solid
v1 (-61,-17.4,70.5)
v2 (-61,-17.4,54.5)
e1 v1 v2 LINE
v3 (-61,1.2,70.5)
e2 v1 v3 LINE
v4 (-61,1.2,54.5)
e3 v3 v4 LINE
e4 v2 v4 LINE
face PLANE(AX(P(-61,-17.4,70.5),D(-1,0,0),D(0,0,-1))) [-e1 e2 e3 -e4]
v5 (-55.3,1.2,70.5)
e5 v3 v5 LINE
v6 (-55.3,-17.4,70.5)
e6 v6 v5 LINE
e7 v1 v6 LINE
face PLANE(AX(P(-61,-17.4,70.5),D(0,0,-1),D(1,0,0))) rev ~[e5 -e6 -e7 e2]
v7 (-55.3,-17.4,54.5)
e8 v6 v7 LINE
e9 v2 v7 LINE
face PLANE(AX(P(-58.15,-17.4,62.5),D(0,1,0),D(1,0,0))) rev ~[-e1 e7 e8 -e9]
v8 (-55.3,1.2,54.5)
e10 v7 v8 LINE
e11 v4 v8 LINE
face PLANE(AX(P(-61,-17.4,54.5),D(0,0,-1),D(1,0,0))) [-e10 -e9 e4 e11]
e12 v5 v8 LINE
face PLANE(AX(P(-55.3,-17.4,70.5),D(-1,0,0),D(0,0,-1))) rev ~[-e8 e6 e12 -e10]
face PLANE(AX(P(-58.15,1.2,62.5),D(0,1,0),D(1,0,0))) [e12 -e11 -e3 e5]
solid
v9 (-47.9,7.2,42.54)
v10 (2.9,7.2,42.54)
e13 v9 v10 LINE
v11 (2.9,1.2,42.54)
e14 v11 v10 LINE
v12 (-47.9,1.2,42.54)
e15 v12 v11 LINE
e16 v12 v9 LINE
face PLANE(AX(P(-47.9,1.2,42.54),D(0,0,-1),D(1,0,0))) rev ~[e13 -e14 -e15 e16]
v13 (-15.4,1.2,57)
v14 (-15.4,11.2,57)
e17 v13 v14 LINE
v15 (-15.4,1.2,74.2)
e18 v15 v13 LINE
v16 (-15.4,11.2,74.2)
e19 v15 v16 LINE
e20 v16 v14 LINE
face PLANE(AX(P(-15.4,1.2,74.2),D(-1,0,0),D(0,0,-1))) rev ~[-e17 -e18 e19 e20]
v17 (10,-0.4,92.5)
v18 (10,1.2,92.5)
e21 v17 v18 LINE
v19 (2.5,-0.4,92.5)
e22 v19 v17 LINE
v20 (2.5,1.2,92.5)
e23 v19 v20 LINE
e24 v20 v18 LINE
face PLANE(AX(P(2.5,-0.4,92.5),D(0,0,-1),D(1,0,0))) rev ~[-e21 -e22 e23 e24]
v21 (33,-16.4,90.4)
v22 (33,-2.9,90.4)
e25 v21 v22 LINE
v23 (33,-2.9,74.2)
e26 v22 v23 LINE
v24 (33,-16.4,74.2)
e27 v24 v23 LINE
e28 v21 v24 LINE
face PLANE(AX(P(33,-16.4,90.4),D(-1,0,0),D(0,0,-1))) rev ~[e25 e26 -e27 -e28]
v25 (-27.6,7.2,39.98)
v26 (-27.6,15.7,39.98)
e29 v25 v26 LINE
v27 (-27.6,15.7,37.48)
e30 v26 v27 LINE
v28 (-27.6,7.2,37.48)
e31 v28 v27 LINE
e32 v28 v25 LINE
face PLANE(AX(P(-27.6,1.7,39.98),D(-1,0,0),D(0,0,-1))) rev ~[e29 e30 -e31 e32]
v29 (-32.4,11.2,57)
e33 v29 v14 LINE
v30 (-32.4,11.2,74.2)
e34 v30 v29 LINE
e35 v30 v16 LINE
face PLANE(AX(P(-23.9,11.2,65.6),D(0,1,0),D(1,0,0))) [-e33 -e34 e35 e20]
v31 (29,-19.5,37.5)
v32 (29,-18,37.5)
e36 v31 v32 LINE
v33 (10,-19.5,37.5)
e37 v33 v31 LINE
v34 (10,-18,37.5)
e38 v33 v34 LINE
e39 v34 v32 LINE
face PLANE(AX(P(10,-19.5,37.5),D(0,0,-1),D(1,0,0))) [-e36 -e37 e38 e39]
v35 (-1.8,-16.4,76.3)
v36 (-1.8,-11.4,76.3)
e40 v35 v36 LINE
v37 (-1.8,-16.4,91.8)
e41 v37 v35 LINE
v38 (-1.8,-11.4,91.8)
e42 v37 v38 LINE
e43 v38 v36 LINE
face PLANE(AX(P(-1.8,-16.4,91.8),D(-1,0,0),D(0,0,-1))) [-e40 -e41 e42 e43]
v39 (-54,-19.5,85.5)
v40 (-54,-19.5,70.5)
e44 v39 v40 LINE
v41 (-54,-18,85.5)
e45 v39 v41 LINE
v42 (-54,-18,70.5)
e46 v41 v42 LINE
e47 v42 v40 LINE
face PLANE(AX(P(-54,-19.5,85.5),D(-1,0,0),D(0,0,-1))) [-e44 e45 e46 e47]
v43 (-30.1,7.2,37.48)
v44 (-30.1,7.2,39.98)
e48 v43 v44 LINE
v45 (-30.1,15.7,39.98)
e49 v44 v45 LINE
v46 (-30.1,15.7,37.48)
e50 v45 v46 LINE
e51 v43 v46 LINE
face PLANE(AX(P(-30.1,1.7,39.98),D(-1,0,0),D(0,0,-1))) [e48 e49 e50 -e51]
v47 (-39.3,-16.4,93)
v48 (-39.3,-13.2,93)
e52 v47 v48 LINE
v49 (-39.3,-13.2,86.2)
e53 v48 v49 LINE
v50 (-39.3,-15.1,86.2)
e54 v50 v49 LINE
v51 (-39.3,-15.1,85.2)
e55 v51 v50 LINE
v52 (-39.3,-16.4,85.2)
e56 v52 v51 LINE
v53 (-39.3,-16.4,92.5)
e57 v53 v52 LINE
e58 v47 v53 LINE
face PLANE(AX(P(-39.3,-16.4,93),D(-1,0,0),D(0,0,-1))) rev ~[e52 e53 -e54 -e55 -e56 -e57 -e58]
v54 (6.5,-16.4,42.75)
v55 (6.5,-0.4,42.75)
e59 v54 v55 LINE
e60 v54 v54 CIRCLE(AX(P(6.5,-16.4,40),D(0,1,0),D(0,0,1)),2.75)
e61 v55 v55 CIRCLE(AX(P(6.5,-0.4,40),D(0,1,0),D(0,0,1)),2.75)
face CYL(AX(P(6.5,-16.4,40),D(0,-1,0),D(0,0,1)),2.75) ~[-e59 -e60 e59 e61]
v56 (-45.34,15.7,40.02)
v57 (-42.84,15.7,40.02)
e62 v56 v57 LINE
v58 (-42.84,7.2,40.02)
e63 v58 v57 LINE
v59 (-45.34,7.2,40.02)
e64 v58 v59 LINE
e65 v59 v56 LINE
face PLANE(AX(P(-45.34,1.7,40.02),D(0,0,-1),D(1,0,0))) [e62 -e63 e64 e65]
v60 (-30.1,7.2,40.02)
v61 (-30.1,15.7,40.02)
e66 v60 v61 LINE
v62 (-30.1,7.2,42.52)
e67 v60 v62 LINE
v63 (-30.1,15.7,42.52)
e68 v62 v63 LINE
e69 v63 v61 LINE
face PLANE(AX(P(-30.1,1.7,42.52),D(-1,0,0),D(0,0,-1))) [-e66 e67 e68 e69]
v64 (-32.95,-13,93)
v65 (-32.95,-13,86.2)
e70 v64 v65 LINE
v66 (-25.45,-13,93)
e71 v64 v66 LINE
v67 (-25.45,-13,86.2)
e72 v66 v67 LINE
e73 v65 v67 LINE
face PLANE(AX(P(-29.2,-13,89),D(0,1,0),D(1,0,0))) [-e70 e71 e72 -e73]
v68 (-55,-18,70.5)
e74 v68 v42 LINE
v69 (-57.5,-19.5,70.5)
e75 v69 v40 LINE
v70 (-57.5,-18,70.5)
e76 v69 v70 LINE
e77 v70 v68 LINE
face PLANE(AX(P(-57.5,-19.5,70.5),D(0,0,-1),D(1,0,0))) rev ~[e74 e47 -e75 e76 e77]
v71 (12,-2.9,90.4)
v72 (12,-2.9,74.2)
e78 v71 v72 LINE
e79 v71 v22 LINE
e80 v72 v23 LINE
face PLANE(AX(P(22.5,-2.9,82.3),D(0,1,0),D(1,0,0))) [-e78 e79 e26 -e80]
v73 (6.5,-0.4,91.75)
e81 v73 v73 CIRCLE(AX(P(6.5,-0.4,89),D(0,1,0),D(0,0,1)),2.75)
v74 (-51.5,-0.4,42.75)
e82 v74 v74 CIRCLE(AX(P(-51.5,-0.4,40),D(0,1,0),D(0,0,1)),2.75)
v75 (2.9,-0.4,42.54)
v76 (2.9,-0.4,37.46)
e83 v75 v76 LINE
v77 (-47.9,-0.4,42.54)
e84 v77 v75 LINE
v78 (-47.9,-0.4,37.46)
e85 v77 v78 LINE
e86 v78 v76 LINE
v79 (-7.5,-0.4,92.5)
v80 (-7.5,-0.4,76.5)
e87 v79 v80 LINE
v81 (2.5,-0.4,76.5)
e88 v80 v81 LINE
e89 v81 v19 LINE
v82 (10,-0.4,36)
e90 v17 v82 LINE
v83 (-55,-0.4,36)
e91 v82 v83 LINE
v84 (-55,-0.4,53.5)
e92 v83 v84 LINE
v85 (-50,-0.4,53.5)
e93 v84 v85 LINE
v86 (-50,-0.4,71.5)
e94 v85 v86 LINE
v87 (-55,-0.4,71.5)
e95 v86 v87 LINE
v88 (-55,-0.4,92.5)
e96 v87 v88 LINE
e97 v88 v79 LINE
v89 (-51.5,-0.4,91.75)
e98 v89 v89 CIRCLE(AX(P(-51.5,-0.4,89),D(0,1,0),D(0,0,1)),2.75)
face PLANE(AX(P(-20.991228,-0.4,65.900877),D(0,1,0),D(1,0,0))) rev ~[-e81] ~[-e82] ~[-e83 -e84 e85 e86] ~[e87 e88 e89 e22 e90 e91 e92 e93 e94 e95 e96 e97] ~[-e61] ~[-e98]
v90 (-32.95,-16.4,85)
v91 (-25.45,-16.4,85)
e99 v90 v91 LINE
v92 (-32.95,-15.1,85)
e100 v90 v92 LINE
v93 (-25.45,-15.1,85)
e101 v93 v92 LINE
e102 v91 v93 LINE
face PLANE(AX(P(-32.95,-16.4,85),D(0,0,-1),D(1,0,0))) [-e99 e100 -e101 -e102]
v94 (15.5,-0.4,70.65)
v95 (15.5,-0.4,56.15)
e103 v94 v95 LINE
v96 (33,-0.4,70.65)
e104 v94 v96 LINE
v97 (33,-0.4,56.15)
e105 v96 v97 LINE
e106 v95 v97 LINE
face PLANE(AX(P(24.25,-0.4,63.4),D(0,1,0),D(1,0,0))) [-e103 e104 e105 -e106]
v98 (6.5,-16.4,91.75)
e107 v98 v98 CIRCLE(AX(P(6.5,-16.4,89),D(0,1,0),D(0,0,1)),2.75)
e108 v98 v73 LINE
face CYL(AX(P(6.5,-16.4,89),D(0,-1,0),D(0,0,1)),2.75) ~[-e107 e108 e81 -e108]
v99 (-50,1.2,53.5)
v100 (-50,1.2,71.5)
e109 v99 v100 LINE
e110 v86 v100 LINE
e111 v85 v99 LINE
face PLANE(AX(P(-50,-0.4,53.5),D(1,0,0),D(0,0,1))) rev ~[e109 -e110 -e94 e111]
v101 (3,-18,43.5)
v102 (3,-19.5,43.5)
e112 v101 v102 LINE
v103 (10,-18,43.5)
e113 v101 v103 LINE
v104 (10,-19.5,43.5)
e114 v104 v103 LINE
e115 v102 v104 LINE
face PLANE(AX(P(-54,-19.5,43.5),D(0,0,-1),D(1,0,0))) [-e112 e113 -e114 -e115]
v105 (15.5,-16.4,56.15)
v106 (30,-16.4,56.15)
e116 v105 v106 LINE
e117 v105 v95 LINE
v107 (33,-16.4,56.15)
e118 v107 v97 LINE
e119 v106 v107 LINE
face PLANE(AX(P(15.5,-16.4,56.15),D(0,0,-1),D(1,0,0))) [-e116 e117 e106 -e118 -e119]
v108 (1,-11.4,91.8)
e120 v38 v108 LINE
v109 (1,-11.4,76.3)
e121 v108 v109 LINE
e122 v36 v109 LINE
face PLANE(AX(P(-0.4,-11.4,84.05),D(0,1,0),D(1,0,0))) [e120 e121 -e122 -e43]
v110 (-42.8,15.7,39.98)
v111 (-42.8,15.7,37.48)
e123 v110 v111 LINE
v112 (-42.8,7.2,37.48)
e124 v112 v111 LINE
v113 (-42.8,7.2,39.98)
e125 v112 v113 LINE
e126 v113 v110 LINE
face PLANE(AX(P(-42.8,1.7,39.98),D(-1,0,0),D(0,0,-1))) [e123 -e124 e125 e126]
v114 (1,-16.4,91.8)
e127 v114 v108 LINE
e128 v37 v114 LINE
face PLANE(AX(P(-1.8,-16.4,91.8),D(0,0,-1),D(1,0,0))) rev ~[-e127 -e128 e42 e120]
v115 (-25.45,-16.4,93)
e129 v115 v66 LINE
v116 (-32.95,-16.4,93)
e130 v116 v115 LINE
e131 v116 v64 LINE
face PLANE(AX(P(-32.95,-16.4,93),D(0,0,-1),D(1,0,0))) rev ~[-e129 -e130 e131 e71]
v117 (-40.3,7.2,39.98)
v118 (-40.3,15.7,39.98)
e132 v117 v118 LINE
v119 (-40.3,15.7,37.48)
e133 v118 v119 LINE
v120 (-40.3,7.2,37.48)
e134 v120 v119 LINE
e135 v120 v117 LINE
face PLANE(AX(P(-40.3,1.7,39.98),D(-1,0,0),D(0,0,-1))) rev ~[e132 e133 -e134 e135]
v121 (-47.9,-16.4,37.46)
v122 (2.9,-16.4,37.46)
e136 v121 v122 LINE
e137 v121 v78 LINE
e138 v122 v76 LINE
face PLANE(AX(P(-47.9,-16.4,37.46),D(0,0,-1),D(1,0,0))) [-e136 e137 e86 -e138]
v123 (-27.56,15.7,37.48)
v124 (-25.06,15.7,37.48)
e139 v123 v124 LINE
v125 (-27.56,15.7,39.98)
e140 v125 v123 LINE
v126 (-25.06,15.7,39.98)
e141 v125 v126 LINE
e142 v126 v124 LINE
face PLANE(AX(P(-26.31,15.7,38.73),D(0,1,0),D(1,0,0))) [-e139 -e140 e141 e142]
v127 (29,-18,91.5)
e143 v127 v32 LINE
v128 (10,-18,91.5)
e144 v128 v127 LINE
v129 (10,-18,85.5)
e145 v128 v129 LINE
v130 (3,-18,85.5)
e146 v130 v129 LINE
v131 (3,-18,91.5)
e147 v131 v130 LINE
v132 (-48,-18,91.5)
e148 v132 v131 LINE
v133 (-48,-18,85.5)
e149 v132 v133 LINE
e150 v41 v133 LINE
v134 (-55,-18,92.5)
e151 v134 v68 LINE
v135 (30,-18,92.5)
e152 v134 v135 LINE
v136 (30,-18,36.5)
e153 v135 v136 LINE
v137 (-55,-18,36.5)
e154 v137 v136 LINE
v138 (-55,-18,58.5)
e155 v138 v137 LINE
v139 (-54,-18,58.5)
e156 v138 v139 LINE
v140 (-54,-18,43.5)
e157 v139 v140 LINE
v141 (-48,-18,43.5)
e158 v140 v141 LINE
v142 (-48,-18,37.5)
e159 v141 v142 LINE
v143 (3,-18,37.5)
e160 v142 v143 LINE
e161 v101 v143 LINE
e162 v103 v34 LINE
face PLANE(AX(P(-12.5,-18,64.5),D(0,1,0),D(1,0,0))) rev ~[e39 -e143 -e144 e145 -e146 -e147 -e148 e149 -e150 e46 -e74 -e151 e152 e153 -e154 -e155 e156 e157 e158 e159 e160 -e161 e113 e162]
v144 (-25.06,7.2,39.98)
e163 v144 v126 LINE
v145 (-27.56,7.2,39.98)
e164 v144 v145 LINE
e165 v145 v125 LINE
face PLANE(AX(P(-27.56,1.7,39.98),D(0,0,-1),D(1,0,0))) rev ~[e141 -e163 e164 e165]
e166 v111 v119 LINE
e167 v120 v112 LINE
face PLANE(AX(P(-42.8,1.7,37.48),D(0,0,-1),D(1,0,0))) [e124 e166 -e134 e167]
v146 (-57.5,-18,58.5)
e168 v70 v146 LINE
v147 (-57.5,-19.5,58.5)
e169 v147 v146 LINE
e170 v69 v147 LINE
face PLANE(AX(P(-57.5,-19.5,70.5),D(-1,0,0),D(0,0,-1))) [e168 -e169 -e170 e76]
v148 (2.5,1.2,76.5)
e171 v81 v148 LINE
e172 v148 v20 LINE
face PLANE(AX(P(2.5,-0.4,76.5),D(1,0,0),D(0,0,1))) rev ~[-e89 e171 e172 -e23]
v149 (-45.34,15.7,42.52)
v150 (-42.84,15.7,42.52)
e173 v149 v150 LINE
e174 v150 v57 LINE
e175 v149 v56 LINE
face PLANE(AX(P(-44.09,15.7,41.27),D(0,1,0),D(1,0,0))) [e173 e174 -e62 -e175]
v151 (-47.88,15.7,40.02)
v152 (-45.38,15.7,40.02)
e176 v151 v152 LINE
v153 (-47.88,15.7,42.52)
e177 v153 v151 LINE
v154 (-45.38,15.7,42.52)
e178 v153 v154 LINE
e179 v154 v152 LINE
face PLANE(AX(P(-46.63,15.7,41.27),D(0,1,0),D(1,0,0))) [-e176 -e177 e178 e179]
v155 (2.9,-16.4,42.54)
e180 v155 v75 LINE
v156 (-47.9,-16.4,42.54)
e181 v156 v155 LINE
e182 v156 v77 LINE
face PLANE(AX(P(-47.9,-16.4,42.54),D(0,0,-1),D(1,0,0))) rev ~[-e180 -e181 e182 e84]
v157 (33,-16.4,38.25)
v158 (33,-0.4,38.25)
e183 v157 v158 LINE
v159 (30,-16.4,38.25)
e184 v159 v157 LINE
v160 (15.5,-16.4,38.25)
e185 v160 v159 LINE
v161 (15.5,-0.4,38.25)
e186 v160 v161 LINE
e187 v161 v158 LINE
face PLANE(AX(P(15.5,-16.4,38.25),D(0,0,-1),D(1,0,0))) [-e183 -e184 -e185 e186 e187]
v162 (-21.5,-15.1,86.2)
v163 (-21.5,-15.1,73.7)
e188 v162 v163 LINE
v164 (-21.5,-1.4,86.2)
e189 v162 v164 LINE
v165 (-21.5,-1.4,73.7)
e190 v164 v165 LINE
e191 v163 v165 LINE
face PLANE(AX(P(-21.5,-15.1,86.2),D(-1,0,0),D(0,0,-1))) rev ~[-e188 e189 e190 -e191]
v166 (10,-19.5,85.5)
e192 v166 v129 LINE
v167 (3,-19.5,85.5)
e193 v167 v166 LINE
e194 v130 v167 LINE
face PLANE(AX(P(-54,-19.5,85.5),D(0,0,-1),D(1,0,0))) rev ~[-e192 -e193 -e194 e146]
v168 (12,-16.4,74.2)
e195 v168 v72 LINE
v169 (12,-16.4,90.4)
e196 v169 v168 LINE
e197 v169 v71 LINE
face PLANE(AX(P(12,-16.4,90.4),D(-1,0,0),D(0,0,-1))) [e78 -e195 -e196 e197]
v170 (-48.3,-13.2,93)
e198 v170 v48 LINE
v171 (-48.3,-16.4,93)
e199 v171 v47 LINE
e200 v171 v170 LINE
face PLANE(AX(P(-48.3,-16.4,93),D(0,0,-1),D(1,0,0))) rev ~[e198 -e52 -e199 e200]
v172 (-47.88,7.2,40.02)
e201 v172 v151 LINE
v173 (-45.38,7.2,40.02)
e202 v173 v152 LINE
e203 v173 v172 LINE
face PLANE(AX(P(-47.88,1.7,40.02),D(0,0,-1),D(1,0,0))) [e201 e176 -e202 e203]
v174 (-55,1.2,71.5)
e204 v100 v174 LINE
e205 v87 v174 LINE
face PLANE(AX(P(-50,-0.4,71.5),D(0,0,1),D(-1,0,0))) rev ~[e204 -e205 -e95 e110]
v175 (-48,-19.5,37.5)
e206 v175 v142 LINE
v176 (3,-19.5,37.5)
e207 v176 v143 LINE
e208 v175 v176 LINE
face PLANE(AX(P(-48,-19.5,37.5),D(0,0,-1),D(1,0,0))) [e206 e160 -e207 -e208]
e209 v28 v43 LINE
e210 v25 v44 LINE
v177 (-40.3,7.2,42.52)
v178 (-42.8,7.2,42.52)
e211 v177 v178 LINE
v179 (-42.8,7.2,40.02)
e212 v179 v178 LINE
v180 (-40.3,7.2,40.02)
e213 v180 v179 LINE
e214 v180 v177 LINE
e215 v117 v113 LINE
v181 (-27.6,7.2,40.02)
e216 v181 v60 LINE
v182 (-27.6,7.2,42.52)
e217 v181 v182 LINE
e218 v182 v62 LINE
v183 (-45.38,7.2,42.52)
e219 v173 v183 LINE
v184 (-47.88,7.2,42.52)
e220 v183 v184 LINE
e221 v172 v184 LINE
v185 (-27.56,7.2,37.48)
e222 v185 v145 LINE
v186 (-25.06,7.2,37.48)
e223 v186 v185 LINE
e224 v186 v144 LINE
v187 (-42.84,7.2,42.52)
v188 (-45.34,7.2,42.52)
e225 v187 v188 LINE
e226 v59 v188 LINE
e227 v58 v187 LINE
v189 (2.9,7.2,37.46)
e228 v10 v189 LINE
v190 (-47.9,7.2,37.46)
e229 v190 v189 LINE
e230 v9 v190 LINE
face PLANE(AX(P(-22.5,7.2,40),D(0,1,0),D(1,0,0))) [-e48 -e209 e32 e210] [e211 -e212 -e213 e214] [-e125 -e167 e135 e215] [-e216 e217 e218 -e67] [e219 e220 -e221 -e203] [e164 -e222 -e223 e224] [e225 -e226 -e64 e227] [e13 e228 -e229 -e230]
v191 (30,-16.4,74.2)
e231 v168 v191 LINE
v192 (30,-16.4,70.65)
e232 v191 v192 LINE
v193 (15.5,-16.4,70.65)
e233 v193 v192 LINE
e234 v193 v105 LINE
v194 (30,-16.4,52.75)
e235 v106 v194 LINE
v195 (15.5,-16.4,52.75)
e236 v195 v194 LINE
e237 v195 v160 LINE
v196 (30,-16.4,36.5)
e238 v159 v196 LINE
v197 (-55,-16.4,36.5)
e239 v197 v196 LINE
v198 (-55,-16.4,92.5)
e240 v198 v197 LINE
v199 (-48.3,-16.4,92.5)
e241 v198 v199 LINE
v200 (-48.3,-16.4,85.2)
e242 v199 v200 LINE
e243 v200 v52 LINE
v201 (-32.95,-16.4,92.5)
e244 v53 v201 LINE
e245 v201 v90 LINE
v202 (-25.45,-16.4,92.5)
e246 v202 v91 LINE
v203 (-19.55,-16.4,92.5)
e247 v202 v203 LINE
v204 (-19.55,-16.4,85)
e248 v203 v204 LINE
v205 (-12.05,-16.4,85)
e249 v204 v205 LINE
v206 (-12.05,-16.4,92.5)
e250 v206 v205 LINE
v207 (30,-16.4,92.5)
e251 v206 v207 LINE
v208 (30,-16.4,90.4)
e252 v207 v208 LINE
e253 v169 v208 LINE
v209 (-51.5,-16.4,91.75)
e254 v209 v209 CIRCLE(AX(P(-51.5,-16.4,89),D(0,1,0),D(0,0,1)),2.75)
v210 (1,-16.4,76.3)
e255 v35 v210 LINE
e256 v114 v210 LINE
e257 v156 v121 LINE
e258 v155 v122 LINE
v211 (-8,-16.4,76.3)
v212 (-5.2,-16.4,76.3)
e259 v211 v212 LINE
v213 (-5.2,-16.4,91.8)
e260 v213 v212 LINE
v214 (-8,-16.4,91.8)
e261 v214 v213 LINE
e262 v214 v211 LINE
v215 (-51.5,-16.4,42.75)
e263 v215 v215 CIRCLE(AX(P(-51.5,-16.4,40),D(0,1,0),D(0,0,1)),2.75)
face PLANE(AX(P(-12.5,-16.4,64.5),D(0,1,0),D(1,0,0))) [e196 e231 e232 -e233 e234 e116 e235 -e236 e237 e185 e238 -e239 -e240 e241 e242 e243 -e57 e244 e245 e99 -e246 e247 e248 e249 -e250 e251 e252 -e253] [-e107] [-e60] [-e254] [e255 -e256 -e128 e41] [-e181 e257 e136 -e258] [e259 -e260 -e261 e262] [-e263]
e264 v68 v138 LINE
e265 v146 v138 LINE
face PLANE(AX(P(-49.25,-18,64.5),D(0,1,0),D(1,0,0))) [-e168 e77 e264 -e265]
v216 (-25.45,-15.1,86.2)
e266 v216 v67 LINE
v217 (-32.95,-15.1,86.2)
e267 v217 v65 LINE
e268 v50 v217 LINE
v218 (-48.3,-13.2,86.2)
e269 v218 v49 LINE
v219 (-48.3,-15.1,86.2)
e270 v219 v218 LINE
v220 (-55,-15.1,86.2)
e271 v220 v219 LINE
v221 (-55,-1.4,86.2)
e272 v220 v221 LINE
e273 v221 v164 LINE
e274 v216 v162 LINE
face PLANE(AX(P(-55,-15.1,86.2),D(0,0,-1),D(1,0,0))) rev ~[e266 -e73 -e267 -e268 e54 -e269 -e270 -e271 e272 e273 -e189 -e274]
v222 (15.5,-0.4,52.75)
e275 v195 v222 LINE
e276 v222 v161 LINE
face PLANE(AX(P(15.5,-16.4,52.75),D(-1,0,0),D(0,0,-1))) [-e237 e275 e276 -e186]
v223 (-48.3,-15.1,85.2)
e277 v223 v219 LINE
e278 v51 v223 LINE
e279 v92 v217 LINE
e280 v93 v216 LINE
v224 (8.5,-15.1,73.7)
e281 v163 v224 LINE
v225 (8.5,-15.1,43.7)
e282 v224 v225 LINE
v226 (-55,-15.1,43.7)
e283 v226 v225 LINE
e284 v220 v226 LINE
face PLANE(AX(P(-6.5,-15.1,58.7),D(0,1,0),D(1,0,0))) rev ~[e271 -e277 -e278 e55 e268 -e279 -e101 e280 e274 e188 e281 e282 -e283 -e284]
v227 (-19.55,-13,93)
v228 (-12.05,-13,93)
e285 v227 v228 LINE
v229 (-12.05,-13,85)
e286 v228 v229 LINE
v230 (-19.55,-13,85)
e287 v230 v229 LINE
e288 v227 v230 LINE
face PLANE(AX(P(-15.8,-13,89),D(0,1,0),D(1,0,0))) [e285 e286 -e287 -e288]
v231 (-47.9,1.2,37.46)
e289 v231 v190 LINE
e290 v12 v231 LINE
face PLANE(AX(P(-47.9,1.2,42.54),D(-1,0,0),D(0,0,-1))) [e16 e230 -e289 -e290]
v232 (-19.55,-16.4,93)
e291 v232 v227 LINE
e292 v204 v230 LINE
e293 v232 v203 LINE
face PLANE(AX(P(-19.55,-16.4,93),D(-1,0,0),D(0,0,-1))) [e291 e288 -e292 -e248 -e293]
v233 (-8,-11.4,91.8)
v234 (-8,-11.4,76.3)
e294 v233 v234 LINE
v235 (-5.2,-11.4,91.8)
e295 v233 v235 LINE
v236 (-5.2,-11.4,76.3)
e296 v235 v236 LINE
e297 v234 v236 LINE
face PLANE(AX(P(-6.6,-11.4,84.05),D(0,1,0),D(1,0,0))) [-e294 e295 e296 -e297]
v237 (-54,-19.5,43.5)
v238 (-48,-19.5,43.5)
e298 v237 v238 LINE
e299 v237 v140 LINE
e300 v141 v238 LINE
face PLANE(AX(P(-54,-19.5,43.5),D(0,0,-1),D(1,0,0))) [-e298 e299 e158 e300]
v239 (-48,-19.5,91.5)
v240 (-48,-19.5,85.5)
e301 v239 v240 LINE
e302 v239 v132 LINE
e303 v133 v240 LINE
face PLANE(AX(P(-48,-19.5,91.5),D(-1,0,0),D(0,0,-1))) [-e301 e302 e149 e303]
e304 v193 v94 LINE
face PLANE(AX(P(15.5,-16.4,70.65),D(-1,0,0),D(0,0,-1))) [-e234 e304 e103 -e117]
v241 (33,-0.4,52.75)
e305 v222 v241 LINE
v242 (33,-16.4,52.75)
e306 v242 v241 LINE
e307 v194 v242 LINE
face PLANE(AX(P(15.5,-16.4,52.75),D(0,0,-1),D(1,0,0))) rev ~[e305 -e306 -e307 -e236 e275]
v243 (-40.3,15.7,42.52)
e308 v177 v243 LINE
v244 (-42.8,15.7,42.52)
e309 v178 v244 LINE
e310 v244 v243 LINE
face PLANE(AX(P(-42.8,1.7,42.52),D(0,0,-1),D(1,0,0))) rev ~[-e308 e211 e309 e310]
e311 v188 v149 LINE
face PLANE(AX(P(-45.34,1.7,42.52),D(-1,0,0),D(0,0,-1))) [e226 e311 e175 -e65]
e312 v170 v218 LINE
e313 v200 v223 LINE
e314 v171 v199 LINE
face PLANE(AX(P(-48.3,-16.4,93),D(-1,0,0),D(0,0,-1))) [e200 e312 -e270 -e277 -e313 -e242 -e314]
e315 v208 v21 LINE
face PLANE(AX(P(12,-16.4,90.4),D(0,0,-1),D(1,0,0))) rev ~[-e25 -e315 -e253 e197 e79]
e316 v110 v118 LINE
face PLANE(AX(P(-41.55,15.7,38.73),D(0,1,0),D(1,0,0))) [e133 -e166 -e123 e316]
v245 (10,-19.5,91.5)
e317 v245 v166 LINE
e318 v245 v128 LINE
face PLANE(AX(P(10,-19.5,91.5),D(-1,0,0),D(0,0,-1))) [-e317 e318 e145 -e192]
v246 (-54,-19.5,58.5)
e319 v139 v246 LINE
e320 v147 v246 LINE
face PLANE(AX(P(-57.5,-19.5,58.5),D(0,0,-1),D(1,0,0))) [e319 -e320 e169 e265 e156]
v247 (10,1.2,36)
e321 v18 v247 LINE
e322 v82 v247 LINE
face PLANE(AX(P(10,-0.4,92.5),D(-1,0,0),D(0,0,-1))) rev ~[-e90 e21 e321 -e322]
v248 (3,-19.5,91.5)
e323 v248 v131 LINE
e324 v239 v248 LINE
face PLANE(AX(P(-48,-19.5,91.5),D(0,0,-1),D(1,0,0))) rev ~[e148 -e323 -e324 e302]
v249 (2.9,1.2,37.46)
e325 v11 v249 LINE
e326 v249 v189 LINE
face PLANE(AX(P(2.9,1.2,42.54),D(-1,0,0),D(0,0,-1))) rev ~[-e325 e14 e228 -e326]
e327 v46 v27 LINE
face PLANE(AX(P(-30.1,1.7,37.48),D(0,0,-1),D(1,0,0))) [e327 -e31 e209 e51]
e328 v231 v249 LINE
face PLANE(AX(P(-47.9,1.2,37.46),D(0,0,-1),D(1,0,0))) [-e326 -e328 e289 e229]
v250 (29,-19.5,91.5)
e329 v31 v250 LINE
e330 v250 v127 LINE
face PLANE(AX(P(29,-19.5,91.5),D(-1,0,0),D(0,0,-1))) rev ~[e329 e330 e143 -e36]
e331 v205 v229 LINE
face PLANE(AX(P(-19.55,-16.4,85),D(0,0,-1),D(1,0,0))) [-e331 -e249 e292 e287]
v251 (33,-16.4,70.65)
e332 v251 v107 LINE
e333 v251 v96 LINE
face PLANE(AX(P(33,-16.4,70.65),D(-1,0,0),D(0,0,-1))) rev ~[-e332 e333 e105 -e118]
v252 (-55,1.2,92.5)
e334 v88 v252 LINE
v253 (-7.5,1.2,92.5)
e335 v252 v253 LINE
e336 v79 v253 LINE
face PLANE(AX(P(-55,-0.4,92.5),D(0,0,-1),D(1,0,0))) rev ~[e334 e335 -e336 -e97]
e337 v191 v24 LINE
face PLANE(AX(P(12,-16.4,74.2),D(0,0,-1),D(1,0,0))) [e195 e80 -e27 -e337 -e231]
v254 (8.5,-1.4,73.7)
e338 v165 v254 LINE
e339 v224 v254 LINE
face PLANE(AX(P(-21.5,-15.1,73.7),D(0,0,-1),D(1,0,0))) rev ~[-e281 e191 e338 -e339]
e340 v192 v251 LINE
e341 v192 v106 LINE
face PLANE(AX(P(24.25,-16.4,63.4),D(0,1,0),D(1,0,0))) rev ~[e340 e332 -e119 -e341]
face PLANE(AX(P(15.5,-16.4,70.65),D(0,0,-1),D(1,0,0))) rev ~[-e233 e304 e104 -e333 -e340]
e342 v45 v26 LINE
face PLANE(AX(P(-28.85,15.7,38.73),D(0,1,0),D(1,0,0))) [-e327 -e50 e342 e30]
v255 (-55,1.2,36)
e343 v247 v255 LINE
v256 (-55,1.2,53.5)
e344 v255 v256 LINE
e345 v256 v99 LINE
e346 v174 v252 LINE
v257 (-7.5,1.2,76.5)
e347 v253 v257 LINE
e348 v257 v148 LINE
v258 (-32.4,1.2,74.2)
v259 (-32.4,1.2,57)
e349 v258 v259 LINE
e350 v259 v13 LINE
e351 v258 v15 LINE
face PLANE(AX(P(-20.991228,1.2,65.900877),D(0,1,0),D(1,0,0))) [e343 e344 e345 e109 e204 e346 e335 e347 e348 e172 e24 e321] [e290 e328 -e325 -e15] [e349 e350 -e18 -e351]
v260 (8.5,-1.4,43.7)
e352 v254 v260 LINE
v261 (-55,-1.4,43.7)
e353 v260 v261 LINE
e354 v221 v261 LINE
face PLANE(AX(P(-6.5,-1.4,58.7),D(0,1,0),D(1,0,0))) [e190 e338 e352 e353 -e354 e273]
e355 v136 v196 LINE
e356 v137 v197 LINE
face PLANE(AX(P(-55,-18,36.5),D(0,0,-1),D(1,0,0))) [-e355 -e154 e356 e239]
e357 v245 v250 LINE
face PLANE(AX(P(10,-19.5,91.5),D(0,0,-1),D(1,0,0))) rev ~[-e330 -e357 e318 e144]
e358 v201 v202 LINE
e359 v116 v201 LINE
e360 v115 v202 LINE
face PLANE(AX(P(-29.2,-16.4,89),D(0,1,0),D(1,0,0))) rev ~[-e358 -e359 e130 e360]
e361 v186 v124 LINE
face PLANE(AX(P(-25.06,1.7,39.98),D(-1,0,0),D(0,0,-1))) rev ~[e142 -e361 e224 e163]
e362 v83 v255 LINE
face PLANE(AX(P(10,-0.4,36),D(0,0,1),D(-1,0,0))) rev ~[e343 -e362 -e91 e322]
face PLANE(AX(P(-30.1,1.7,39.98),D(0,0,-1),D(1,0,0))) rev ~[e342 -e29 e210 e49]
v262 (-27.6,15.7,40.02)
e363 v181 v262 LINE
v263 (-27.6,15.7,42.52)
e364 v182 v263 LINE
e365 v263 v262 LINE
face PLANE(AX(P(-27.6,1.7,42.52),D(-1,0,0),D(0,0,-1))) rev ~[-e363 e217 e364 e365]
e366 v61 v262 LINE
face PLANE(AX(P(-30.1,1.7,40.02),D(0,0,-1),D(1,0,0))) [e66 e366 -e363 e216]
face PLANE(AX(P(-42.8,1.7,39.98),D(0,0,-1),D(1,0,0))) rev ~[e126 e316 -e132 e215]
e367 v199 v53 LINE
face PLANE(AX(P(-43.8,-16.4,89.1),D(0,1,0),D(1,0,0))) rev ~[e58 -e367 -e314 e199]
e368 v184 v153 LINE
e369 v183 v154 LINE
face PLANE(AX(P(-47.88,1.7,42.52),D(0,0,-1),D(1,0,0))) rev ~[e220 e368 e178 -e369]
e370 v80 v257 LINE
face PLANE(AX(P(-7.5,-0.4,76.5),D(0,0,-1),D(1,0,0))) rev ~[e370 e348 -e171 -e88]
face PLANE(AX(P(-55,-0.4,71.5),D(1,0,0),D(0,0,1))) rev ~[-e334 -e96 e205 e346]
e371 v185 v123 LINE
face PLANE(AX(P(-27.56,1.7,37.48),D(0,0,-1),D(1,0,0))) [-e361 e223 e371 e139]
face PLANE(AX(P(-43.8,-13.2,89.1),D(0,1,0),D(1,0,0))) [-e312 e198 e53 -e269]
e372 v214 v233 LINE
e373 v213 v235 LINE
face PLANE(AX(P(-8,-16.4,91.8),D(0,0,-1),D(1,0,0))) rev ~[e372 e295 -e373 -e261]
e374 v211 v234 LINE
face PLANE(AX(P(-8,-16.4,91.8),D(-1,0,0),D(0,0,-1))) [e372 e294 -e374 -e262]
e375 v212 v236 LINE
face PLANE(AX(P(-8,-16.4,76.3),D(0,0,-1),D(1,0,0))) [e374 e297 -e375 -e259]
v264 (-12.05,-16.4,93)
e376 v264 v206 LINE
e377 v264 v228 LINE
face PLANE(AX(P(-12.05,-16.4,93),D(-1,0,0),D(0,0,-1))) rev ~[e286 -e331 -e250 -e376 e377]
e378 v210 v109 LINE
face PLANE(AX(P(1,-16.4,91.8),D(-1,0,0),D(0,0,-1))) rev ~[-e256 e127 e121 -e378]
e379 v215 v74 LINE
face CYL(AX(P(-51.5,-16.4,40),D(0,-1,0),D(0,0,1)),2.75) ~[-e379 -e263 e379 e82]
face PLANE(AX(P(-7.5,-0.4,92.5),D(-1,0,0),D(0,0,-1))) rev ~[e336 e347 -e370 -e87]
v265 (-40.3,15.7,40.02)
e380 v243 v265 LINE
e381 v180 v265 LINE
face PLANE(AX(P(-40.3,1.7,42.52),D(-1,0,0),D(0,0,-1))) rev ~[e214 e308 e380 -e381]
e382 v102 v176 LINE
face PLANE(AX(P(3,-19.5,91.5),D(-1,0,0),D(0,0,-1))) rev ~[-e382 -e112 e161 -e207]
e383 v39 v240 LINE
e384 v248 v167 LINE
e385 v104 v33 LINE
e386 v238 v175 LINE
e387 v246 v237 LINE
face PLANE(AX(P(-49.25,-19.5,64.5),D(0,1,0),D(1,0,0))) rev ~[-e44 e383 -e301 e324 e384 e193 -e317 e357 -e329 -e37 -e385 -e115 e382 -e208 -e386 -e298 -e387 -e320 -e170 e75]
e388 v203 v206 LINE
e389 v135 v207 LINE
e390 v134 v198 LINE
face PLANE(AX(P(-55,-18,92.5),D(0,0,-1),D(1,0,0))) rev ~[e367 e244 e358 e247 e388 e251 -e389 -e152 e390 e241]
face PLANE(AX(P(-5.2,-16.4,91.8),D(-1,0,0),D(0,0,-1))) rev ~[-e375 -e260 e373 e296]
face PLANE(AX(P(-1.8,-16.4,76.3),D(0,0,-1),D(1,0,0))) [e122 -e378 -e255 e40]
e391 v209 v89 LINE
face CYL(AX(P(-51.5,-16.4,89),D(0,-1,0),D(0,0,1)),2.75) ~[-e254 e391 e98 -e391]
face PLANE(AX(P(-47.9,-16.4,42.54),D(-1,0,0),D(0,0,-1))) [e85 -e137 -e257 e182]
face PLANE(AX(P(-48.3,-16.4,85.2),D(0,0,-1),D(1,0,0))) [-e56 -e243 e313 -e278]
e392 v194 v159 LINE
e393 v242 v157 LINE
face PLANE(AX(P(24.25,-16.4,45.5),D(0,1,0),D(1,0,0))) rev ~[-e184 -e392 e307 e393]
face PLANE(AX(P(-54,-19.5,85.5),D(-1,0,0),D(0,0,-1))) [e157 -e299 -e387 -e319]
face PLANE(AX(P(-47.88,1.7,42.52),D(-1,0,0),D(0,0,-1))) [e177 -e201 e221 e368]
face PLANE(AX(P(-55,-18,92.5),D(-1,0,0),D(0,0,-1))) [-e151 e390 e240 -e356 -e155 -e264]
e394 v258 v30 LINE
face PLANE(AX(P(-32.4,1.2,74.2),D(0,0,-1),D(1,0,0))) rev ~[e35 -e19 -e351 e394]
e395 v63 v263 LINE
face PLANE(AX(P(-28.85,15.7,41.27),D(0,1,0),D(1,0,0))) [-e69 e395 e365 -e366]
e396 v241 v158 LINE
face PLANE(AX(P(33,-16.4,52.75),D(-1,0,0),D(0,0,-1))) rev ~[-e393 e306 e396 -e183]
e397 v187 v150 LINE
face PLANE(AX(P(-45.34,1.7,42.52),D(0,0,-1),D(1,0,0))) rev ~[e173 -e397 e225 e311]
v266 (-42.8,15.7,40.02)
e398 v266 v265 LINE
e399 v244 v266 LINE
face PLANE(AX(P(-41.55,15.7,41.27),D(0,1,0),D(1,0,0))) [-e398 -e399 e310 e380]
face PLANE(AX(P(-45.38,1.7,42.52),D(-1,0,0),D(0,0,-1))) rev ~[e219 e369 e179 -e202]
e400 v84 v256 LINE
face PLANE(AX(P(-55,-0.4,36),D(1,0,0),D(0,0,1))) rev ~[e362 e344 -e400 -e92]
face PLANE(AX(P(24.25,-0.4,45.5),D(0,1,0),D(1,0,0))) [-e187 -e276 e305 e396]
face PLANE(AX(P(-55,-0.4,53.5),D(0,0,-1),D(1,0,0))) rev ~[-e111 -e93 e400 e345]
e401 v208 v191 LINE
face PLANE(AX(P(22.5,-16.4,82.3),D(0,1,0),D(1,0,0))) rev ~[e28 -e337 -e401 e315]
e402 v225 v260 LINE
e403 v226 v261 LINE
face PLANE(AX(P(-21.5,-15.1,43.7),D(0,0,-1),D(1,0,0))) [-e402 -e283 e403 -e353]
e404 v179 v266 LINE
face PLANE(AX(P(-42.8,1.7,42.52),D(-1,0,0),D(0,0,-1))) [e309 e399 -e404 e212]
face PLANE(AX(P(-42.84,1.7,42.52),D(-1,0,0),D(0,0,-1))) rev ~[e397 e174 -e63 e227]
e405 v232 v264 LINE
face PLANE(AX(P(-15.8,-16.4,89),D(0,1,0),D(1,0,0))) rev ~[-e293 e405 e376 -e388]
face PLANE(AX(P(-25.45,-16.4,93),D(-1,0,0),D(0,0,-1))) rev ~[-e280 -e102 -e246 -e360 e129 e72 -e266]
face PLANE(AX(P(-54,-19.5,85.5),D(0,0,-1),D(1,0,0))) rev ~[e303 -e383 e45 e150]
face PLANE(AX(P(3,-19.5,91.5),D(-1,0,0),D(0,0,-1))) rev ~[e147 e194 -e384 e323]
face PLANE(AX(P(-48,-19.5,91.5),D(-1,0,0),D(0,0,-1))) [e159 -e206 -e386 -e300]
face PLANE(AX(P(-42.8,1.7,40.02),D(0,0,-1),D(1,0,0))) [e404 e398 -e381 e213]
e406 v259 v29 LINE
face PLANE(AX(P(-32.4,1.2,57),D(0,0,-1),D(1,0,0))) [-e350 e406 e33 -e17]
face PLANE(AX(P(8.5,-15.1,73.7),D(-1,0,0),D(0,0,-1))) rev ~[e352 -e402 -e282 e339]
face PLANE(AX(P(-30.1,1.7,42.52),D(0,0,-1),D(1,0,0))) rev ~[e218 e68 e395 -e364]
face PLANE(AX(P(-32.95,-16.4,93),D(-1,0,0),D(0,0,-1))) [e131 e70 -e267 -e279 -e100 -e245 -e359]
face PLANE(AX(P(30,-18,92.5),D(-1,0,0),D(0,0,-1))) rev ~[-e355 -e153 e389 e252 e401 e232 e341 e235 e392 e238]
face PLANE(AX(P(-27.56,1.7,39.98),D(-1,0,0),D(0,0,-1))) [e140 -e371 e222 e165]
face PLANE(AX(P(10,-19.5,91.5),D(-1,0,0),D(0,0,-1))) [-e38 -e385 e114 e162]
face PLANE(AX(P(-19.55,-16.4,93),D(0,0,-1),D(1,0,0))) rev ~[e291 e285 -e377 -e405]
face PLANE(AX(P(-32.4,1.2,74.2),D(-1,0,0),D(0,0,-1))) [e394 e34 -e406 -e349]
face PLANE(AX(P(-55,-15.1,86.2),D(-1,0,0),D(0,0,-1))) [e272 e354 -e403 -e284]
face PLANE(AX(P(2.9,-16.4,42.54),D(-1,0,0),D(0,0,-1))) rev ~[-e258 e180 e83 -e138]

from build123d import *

# Parameters (mm, degrees)
SKETCH1_W                                 = 85
SKETCH1_H                                 = 56
PI_5_PCB_DEPTH                            = 1.6
SKETCH2_W                                 = 51
SKETCH2_H                                 = 54
UNDERSIDE_PARTS_1_DEPTH                   = 1.5
SKETCH3_W                                 = 83
SKETCH3_H                                 = 42
UNDERSIDE_PARTS_2_DEPTH                   = 1.5
SKETCH4_W                                 = 19
SKETCH4_H                                 = 54
UNDERSIDE_PARTS_3_DEPTH                   = 1.5
SKETCH5_W                                 = 16.5
SKETCH5_H                                 = 12
MICROSD_CARD_DEPTH                        = 1.5
SKETCH6_W                                 = 33.5
SKETCH6_H                                 = 42.5
COOLER_FINS_DEPTH                         = 13.7
SKETCH7_W                                 = 30
SKETCH7_H                                 = 30
COOLER_FAN_DEPTH                          = 13.7
SKETCH8_W                                 = 50.8
SKETCH8_H                                 = 5.08
F_40_PIN_HEADER_AND_STACKING_SOCKET_DEPTH = 16
SKETCH9_R                                 = 2.75
HAT_SPACER_1_DEPTH                        = 16
SKETCH10_R                                = 2.75
HAT_SPACER_2_DEPTH                        = 16
SKETCH11_R                                = 2.75
HAT_SPACER_3_DEPTH                        = 16
SKETCH12_R                                = 2.75
HAT_SPACER_4_DEPTH                        = 16
AI_HAT_PCB_DEPTH                          = 1.6
SKETCH14_W                                = 17
SKETCH14_H                                = 17.2
HAILO_AND_HEATSINK_DEPTH                  = 10
SKETCH15_W                                = 50.8
SKETCH15_H                                = 5.08
STACKING_PINS_DEPTH                       = 6
SKETCH16_W                                = 2.5
SKETCH16_H                                = 2.5
DUPONT_HOUSINGS_DEPTH                     = 14
SKETCH17_W                                = 5.7
SKETCH17_H                                = 16
PCIE_FLAT_CABLE_LOOP_DEPTH                = 18.6
SKETCH18_W                                = 21
SKETCH18_H                                = 16.2
ETHERNET_DEPTH                            = 13.5
SKETCH19_W                                = 17.5
SKETCH19_H                                = 14.5
USB_A_STACKS_DEPTH                        = 16
SKETCH20_W                                = 9
SKETCH20_H                                = 7.8
USB_C_DEPTH                               = 3.2
SKETCH21_W                                = 7.5
SKETCH21_H                                = 8
MICRO_HDMI_DEPTH                          = 3.4
SKETCH22_W                                = 2.8
SKETCH22_H                                = 15.5
CAM_DISP_CONNECTORS_DEPTH                 = 5


with BuildPart() as part:
    # Sketch1 → Pi 5 PCB (new body)
    with BuildSketch(Plane(origin=(0, -18, 0), x_dir=(1, 0, 0), z_dir=(0, 1, 0))):
        with Locations((-12.5, -64.5)):
            Rectangle(SKETCH1_W, SKETCH1_H)
    extrude(amount=PI_5_PCB_DEPTH)

    # Sketch2 → Underside Parts 1 (add)
    with BuildSketch(Plane(origin=(0, -19.5, 0), x_dir=(1, 0, 0), z_dir=(0, 1, 0))):
        with Locations((-22.5, -64.5)):
            Rectangle(SKETCH2_W, SKETCH2_H)
    extrude(amount=UNDERSIDE_PARTS_1_DEPTH)

    # Sketch3 → Underside Parts 2 (add)
    with BuildSketch(Plane(origin=(0, -19.5, 0), x_dir=(1, 0, 0), z_dir=(0, 1, 0))):
        with Locations((-12.5, -64.5)):
            Rectangle(SKETCH3_W, SKETCH3_H)
    extrude(amount=UNDERSIDE_PARTS_2_DEPTH)

    # Sketch4 → Underside Parts 3 (add)
    with BuildSketch(Plane(origin=(0, -19.5, 0), x_dir=(1, 0, 0), z_dir=(0, 1, 0))):
        with Locations((19.5, -64.5)):
            Rectangle(SKETCH4_W, SKETCH4_H)
    extrude(amount=UNDERSIDE_PARTS_3_DEPTH)

    # Sketch5 → microSD Card (add)
    with BuildSketch(Plane(origin=(0, -19.5, 0), x_dir=(1, 0, 0), z_dir=(0, 1, 0))):
        with Locations((-49.25, -64.5)):
            Rectangle(SKETCH5_W, SKETCH5_H)
    extrude(amount=MICROSD_CARD_DEPTH)

    # Sketch8 → 40-pin Header And Stacking Socket (add)
    with BuildSketch(Plane(origin=(0, -16.4, 0), x_dir=(1, 0, 0), z_dir=(0, 1, 0))):
        with Locations((-22.5, -40)):
            Rectangle(SKETCH8_W, SKETCH8_H)
    extrude(amount=F_40_PIN_HEADER_AND_STACKING_SOCKET_DEPTH)

    # Sketch9 → HAT Spacer 1 (add)
    with BuildSketch(Plane(origin=(0, -16.4, 0), x_dir=(1, 0, 0), z_dir=(0, 1, 0))):
        with Locations(Location((-51.5, -89, 0), (0, 0, 270))):
            Circle(SKETCH9_R)
    extrude(amount=HAT_SPACER_1_DEPTH)

    # Sketch10 → HAT Spacer 2 (add)
    with BuildSketch(Plane(origin=(0, -16.4, 0), x_dir=(1, 0, 0), z_dir=(0, 1, 0))):
        with Locations(Location((6.5, -89, 0), (0, 0, 270))):
            Circle(SKETCH10_R)
    extrude(amount=HAT_SPACER_2_DEPTH)

    # Sketch11 → HAT Spacer 3 (add)
    with BuildSketch(Plane(origin=(0, -16.4, 0), x_dir=(1, 0, 0), z_dir=(0, 1, 0))):
        with Locations(Location((-51.5, -40, 0), (0, 0, 270))):
            Circle(SKETCH11_R)
    extrude(amount=HAT_SPACER_3_DEPTH)

    # Sketch12 → HAT Spacer 4 (add)
    with BuildSketch(Plane(origin=(0, -16.4, 0), x_dir=(1, 0, 0), z_dir=(0, 1, 0))):
        with Locations(Location((6.5, -40, 0), (0, 0, 270))):
            Circle(SKETCH12_R)
    extrude(amount=HAT_SPACER_4_DEPTH)

    # Sketch13 → AI HAT+ PCB (add)
    with BuildSketch(Plane(origin=(0, -0.4, 0), x_dir=(1, 0, 0), z_dir=(0, 1, 0))):
        Polygon((-55, -92.5), (-7.5, -92.5), (-7.5, -76.5), (2.5, -76.5), (2.5, -92.5), (10, -92.5), (10, -36), (-55, -36), (-55, -53.5), (-50, -53.5), (-50, -71.5), (-55, -71.5), align=None)
    extrude(amount=AI_HAT_PCB_DEPTH)

    # Sketch14 → Hailo And Heatsink (add)
    with BuildSketch(Plane(origin=(0, 1.2, 0), x_dir=(1, 0, 0), z_dir=(0, 1, 0))):
        with Locations((-23.9, -65.6)):
            Rectangle(SKETCH14_W, SKETCH14_H)
    extrude(amount=HAILO_AND_HEATSINK_DEPTH)

    # Sketch15 → Stacking Pins (add)
    with BuildSketch(Plane(origin=(0, 1.2, 0), x_dir=(1, 0, 0), z_dir=(0, 1, 0))):
        with Locations((-22.5, -40)):
            Rectangle(SKETCH15_W, SKETCH15_H)
    extrude(amount=STACKING_PINS_DEPTH)

    # Sketch16 → Dupont Housings (add)
    with BuildSketch(Plane(origin=(0, 1.7, 0), x_dir=(1, 0, 0), z_dir=(0, 1, 0))):
        with Locations((-46.63, -41.27)):
            Rectangle(SKETCH16_W, SKETCH16_H)
        with Locations((-44.09, -41.27)):
            Rectangle(SKETCH16_W, SKETCH16_H)
        with Locations((-41.55, -41.27)):
            Rectangle(SKETCH16_W, SKETCH16_H)
        with Locations((-41.55, -38.73)):
            Rectangle(SKETCH16_W, SKETCH16_H)
        with Locations((-28.85, -41.27)):
            Rectangle(SKETCH16_W, SKETCH16_H)
        with Locations((-28.85, -38.73)):
            Rectangle(SKETCH16_W, SKETCH16_H)
        with Locations((-26.31, -38.73)):
            Rectangle(SKETCH16_W, SKETCH16_H)
    extrude(amount=DUPONT_HOUSINGS_DEPTH)

    # Sketch18 → Ethernet (add)
    with BuildSketch(Plane(origin=(0, -16.4, 0), x_dir=(1, 0, 0), z_dir=(0, 1, 0))):
        with Locations((22.5, -82.3)):
            Rectangle(SKETCH18_W, SKETCH18_H)
    extrude(amount=ETHERNET_DEPTH)

    # Sketch19 → USB-A Stacks (add)
    with BuildSketch(Plane(origin=(0, -16.4, 0), x_dir=(1, 0, 0), z_dir=(0, 1, 0))):
        with Locations((24.25, -63.4)):
            Rectangle(SKETCH19_W, SKETCH19_H)
        with Locations((24.25, -45.5)):
            Rectangle(SKETCH19_W, SKETCH19_H)
    extrude(amount=USB_A_STACKS_DEPTH)



with BuildPart() as body_2:
    # Sketch6 → Cooler Fins (new body)
    with BuildSketch(Plane(origin=(0, -15.1, 0), x_dir=(1, 0, 0), z_dir=(0, 1, 0))):
        with Locations((-38.25, -64.95)):
            Rectangle(SKETCH6_W, SKETCH6_H)
    extrude(amount=COOLER_FINS_DEPTH)

    # Sketch7 → Cooler Fan (add)
    with BuildSketch(Plane(origin=(0, -15.1, 0), x_dir=(1, 0, 0), z_dir=(0, 1, 0))):
        with Locations((-6.5, -58.7)):
            Rectangle(SKETCH7_W, SKETCH7_H)
    extrude(amount=COOLER_FAN_DEPTH)


with BuildPart() as body_3:
    # Sketch17 → PCIe Flat Cable Loop (new body)
    with BuildSketch(Plane(origin=(0, -17.4, 0), x_dir=(1, 0, 0), z_dir=(0, 1, 0))):
        with Locations((-58.15, -62.5)):
            Rectangle(SKETCH17_W, SKETCH17_H)
    extrude(amount=PCIE_FLAT_CABLE_LOOP_DEPTH)


with BuildPart() as part_1:
    add(part.part)

    add(body_2.part)  # USB-C merges body 2
    # Sketch20 → USB-C (add)
    with BuildSketch(Plane(origin=(0, -16.4, 0), x_dir=(1, 0, 0), z_dir=(0, 1, 0))):
        with Locations((-43.8, -89.1)):
            Rectangle(SKETCH20_W, SKETCH20_H)
    extrude(amount=USB_C_DEPTH)

    # Sketch21 → Micro-HDMI (add)
    with BuildSketch(Plane(origin=(0, -16.4, 0), x_dir=(1, 0, 0), z_dir=(0, 1, 0))):
        with Locations((-29.2, -89)):
            Rectangle(SKETCH21_W, SKETCH21_H)
        with Locations((-15.8, -89)):
            Rectangle(SKETCH21_W, SKETCH21_H)
    extrude(amount=MICRO_HDMI_DEPTH)

    # Sketch22 → CAM-DISP Connectors (add)
    with BuildSketch(Plane(origin=(0, -16.4, 0), x_dir=(1, 0, 0), z_dir=(0, 1, 0))):
        with Locations((-6.6, -84.05)):
            Rectangle(SKETCH22_W, SKETCH22_H)
        with Locations((-0.4, -84.05)):
            Rectangle(SKETCH22_W, SKETCH22_H)
    extrude(amount=CAM_DISP_CONNECTORS_DEPTH)


solid = Compound([body_3.part, part_1.part])
